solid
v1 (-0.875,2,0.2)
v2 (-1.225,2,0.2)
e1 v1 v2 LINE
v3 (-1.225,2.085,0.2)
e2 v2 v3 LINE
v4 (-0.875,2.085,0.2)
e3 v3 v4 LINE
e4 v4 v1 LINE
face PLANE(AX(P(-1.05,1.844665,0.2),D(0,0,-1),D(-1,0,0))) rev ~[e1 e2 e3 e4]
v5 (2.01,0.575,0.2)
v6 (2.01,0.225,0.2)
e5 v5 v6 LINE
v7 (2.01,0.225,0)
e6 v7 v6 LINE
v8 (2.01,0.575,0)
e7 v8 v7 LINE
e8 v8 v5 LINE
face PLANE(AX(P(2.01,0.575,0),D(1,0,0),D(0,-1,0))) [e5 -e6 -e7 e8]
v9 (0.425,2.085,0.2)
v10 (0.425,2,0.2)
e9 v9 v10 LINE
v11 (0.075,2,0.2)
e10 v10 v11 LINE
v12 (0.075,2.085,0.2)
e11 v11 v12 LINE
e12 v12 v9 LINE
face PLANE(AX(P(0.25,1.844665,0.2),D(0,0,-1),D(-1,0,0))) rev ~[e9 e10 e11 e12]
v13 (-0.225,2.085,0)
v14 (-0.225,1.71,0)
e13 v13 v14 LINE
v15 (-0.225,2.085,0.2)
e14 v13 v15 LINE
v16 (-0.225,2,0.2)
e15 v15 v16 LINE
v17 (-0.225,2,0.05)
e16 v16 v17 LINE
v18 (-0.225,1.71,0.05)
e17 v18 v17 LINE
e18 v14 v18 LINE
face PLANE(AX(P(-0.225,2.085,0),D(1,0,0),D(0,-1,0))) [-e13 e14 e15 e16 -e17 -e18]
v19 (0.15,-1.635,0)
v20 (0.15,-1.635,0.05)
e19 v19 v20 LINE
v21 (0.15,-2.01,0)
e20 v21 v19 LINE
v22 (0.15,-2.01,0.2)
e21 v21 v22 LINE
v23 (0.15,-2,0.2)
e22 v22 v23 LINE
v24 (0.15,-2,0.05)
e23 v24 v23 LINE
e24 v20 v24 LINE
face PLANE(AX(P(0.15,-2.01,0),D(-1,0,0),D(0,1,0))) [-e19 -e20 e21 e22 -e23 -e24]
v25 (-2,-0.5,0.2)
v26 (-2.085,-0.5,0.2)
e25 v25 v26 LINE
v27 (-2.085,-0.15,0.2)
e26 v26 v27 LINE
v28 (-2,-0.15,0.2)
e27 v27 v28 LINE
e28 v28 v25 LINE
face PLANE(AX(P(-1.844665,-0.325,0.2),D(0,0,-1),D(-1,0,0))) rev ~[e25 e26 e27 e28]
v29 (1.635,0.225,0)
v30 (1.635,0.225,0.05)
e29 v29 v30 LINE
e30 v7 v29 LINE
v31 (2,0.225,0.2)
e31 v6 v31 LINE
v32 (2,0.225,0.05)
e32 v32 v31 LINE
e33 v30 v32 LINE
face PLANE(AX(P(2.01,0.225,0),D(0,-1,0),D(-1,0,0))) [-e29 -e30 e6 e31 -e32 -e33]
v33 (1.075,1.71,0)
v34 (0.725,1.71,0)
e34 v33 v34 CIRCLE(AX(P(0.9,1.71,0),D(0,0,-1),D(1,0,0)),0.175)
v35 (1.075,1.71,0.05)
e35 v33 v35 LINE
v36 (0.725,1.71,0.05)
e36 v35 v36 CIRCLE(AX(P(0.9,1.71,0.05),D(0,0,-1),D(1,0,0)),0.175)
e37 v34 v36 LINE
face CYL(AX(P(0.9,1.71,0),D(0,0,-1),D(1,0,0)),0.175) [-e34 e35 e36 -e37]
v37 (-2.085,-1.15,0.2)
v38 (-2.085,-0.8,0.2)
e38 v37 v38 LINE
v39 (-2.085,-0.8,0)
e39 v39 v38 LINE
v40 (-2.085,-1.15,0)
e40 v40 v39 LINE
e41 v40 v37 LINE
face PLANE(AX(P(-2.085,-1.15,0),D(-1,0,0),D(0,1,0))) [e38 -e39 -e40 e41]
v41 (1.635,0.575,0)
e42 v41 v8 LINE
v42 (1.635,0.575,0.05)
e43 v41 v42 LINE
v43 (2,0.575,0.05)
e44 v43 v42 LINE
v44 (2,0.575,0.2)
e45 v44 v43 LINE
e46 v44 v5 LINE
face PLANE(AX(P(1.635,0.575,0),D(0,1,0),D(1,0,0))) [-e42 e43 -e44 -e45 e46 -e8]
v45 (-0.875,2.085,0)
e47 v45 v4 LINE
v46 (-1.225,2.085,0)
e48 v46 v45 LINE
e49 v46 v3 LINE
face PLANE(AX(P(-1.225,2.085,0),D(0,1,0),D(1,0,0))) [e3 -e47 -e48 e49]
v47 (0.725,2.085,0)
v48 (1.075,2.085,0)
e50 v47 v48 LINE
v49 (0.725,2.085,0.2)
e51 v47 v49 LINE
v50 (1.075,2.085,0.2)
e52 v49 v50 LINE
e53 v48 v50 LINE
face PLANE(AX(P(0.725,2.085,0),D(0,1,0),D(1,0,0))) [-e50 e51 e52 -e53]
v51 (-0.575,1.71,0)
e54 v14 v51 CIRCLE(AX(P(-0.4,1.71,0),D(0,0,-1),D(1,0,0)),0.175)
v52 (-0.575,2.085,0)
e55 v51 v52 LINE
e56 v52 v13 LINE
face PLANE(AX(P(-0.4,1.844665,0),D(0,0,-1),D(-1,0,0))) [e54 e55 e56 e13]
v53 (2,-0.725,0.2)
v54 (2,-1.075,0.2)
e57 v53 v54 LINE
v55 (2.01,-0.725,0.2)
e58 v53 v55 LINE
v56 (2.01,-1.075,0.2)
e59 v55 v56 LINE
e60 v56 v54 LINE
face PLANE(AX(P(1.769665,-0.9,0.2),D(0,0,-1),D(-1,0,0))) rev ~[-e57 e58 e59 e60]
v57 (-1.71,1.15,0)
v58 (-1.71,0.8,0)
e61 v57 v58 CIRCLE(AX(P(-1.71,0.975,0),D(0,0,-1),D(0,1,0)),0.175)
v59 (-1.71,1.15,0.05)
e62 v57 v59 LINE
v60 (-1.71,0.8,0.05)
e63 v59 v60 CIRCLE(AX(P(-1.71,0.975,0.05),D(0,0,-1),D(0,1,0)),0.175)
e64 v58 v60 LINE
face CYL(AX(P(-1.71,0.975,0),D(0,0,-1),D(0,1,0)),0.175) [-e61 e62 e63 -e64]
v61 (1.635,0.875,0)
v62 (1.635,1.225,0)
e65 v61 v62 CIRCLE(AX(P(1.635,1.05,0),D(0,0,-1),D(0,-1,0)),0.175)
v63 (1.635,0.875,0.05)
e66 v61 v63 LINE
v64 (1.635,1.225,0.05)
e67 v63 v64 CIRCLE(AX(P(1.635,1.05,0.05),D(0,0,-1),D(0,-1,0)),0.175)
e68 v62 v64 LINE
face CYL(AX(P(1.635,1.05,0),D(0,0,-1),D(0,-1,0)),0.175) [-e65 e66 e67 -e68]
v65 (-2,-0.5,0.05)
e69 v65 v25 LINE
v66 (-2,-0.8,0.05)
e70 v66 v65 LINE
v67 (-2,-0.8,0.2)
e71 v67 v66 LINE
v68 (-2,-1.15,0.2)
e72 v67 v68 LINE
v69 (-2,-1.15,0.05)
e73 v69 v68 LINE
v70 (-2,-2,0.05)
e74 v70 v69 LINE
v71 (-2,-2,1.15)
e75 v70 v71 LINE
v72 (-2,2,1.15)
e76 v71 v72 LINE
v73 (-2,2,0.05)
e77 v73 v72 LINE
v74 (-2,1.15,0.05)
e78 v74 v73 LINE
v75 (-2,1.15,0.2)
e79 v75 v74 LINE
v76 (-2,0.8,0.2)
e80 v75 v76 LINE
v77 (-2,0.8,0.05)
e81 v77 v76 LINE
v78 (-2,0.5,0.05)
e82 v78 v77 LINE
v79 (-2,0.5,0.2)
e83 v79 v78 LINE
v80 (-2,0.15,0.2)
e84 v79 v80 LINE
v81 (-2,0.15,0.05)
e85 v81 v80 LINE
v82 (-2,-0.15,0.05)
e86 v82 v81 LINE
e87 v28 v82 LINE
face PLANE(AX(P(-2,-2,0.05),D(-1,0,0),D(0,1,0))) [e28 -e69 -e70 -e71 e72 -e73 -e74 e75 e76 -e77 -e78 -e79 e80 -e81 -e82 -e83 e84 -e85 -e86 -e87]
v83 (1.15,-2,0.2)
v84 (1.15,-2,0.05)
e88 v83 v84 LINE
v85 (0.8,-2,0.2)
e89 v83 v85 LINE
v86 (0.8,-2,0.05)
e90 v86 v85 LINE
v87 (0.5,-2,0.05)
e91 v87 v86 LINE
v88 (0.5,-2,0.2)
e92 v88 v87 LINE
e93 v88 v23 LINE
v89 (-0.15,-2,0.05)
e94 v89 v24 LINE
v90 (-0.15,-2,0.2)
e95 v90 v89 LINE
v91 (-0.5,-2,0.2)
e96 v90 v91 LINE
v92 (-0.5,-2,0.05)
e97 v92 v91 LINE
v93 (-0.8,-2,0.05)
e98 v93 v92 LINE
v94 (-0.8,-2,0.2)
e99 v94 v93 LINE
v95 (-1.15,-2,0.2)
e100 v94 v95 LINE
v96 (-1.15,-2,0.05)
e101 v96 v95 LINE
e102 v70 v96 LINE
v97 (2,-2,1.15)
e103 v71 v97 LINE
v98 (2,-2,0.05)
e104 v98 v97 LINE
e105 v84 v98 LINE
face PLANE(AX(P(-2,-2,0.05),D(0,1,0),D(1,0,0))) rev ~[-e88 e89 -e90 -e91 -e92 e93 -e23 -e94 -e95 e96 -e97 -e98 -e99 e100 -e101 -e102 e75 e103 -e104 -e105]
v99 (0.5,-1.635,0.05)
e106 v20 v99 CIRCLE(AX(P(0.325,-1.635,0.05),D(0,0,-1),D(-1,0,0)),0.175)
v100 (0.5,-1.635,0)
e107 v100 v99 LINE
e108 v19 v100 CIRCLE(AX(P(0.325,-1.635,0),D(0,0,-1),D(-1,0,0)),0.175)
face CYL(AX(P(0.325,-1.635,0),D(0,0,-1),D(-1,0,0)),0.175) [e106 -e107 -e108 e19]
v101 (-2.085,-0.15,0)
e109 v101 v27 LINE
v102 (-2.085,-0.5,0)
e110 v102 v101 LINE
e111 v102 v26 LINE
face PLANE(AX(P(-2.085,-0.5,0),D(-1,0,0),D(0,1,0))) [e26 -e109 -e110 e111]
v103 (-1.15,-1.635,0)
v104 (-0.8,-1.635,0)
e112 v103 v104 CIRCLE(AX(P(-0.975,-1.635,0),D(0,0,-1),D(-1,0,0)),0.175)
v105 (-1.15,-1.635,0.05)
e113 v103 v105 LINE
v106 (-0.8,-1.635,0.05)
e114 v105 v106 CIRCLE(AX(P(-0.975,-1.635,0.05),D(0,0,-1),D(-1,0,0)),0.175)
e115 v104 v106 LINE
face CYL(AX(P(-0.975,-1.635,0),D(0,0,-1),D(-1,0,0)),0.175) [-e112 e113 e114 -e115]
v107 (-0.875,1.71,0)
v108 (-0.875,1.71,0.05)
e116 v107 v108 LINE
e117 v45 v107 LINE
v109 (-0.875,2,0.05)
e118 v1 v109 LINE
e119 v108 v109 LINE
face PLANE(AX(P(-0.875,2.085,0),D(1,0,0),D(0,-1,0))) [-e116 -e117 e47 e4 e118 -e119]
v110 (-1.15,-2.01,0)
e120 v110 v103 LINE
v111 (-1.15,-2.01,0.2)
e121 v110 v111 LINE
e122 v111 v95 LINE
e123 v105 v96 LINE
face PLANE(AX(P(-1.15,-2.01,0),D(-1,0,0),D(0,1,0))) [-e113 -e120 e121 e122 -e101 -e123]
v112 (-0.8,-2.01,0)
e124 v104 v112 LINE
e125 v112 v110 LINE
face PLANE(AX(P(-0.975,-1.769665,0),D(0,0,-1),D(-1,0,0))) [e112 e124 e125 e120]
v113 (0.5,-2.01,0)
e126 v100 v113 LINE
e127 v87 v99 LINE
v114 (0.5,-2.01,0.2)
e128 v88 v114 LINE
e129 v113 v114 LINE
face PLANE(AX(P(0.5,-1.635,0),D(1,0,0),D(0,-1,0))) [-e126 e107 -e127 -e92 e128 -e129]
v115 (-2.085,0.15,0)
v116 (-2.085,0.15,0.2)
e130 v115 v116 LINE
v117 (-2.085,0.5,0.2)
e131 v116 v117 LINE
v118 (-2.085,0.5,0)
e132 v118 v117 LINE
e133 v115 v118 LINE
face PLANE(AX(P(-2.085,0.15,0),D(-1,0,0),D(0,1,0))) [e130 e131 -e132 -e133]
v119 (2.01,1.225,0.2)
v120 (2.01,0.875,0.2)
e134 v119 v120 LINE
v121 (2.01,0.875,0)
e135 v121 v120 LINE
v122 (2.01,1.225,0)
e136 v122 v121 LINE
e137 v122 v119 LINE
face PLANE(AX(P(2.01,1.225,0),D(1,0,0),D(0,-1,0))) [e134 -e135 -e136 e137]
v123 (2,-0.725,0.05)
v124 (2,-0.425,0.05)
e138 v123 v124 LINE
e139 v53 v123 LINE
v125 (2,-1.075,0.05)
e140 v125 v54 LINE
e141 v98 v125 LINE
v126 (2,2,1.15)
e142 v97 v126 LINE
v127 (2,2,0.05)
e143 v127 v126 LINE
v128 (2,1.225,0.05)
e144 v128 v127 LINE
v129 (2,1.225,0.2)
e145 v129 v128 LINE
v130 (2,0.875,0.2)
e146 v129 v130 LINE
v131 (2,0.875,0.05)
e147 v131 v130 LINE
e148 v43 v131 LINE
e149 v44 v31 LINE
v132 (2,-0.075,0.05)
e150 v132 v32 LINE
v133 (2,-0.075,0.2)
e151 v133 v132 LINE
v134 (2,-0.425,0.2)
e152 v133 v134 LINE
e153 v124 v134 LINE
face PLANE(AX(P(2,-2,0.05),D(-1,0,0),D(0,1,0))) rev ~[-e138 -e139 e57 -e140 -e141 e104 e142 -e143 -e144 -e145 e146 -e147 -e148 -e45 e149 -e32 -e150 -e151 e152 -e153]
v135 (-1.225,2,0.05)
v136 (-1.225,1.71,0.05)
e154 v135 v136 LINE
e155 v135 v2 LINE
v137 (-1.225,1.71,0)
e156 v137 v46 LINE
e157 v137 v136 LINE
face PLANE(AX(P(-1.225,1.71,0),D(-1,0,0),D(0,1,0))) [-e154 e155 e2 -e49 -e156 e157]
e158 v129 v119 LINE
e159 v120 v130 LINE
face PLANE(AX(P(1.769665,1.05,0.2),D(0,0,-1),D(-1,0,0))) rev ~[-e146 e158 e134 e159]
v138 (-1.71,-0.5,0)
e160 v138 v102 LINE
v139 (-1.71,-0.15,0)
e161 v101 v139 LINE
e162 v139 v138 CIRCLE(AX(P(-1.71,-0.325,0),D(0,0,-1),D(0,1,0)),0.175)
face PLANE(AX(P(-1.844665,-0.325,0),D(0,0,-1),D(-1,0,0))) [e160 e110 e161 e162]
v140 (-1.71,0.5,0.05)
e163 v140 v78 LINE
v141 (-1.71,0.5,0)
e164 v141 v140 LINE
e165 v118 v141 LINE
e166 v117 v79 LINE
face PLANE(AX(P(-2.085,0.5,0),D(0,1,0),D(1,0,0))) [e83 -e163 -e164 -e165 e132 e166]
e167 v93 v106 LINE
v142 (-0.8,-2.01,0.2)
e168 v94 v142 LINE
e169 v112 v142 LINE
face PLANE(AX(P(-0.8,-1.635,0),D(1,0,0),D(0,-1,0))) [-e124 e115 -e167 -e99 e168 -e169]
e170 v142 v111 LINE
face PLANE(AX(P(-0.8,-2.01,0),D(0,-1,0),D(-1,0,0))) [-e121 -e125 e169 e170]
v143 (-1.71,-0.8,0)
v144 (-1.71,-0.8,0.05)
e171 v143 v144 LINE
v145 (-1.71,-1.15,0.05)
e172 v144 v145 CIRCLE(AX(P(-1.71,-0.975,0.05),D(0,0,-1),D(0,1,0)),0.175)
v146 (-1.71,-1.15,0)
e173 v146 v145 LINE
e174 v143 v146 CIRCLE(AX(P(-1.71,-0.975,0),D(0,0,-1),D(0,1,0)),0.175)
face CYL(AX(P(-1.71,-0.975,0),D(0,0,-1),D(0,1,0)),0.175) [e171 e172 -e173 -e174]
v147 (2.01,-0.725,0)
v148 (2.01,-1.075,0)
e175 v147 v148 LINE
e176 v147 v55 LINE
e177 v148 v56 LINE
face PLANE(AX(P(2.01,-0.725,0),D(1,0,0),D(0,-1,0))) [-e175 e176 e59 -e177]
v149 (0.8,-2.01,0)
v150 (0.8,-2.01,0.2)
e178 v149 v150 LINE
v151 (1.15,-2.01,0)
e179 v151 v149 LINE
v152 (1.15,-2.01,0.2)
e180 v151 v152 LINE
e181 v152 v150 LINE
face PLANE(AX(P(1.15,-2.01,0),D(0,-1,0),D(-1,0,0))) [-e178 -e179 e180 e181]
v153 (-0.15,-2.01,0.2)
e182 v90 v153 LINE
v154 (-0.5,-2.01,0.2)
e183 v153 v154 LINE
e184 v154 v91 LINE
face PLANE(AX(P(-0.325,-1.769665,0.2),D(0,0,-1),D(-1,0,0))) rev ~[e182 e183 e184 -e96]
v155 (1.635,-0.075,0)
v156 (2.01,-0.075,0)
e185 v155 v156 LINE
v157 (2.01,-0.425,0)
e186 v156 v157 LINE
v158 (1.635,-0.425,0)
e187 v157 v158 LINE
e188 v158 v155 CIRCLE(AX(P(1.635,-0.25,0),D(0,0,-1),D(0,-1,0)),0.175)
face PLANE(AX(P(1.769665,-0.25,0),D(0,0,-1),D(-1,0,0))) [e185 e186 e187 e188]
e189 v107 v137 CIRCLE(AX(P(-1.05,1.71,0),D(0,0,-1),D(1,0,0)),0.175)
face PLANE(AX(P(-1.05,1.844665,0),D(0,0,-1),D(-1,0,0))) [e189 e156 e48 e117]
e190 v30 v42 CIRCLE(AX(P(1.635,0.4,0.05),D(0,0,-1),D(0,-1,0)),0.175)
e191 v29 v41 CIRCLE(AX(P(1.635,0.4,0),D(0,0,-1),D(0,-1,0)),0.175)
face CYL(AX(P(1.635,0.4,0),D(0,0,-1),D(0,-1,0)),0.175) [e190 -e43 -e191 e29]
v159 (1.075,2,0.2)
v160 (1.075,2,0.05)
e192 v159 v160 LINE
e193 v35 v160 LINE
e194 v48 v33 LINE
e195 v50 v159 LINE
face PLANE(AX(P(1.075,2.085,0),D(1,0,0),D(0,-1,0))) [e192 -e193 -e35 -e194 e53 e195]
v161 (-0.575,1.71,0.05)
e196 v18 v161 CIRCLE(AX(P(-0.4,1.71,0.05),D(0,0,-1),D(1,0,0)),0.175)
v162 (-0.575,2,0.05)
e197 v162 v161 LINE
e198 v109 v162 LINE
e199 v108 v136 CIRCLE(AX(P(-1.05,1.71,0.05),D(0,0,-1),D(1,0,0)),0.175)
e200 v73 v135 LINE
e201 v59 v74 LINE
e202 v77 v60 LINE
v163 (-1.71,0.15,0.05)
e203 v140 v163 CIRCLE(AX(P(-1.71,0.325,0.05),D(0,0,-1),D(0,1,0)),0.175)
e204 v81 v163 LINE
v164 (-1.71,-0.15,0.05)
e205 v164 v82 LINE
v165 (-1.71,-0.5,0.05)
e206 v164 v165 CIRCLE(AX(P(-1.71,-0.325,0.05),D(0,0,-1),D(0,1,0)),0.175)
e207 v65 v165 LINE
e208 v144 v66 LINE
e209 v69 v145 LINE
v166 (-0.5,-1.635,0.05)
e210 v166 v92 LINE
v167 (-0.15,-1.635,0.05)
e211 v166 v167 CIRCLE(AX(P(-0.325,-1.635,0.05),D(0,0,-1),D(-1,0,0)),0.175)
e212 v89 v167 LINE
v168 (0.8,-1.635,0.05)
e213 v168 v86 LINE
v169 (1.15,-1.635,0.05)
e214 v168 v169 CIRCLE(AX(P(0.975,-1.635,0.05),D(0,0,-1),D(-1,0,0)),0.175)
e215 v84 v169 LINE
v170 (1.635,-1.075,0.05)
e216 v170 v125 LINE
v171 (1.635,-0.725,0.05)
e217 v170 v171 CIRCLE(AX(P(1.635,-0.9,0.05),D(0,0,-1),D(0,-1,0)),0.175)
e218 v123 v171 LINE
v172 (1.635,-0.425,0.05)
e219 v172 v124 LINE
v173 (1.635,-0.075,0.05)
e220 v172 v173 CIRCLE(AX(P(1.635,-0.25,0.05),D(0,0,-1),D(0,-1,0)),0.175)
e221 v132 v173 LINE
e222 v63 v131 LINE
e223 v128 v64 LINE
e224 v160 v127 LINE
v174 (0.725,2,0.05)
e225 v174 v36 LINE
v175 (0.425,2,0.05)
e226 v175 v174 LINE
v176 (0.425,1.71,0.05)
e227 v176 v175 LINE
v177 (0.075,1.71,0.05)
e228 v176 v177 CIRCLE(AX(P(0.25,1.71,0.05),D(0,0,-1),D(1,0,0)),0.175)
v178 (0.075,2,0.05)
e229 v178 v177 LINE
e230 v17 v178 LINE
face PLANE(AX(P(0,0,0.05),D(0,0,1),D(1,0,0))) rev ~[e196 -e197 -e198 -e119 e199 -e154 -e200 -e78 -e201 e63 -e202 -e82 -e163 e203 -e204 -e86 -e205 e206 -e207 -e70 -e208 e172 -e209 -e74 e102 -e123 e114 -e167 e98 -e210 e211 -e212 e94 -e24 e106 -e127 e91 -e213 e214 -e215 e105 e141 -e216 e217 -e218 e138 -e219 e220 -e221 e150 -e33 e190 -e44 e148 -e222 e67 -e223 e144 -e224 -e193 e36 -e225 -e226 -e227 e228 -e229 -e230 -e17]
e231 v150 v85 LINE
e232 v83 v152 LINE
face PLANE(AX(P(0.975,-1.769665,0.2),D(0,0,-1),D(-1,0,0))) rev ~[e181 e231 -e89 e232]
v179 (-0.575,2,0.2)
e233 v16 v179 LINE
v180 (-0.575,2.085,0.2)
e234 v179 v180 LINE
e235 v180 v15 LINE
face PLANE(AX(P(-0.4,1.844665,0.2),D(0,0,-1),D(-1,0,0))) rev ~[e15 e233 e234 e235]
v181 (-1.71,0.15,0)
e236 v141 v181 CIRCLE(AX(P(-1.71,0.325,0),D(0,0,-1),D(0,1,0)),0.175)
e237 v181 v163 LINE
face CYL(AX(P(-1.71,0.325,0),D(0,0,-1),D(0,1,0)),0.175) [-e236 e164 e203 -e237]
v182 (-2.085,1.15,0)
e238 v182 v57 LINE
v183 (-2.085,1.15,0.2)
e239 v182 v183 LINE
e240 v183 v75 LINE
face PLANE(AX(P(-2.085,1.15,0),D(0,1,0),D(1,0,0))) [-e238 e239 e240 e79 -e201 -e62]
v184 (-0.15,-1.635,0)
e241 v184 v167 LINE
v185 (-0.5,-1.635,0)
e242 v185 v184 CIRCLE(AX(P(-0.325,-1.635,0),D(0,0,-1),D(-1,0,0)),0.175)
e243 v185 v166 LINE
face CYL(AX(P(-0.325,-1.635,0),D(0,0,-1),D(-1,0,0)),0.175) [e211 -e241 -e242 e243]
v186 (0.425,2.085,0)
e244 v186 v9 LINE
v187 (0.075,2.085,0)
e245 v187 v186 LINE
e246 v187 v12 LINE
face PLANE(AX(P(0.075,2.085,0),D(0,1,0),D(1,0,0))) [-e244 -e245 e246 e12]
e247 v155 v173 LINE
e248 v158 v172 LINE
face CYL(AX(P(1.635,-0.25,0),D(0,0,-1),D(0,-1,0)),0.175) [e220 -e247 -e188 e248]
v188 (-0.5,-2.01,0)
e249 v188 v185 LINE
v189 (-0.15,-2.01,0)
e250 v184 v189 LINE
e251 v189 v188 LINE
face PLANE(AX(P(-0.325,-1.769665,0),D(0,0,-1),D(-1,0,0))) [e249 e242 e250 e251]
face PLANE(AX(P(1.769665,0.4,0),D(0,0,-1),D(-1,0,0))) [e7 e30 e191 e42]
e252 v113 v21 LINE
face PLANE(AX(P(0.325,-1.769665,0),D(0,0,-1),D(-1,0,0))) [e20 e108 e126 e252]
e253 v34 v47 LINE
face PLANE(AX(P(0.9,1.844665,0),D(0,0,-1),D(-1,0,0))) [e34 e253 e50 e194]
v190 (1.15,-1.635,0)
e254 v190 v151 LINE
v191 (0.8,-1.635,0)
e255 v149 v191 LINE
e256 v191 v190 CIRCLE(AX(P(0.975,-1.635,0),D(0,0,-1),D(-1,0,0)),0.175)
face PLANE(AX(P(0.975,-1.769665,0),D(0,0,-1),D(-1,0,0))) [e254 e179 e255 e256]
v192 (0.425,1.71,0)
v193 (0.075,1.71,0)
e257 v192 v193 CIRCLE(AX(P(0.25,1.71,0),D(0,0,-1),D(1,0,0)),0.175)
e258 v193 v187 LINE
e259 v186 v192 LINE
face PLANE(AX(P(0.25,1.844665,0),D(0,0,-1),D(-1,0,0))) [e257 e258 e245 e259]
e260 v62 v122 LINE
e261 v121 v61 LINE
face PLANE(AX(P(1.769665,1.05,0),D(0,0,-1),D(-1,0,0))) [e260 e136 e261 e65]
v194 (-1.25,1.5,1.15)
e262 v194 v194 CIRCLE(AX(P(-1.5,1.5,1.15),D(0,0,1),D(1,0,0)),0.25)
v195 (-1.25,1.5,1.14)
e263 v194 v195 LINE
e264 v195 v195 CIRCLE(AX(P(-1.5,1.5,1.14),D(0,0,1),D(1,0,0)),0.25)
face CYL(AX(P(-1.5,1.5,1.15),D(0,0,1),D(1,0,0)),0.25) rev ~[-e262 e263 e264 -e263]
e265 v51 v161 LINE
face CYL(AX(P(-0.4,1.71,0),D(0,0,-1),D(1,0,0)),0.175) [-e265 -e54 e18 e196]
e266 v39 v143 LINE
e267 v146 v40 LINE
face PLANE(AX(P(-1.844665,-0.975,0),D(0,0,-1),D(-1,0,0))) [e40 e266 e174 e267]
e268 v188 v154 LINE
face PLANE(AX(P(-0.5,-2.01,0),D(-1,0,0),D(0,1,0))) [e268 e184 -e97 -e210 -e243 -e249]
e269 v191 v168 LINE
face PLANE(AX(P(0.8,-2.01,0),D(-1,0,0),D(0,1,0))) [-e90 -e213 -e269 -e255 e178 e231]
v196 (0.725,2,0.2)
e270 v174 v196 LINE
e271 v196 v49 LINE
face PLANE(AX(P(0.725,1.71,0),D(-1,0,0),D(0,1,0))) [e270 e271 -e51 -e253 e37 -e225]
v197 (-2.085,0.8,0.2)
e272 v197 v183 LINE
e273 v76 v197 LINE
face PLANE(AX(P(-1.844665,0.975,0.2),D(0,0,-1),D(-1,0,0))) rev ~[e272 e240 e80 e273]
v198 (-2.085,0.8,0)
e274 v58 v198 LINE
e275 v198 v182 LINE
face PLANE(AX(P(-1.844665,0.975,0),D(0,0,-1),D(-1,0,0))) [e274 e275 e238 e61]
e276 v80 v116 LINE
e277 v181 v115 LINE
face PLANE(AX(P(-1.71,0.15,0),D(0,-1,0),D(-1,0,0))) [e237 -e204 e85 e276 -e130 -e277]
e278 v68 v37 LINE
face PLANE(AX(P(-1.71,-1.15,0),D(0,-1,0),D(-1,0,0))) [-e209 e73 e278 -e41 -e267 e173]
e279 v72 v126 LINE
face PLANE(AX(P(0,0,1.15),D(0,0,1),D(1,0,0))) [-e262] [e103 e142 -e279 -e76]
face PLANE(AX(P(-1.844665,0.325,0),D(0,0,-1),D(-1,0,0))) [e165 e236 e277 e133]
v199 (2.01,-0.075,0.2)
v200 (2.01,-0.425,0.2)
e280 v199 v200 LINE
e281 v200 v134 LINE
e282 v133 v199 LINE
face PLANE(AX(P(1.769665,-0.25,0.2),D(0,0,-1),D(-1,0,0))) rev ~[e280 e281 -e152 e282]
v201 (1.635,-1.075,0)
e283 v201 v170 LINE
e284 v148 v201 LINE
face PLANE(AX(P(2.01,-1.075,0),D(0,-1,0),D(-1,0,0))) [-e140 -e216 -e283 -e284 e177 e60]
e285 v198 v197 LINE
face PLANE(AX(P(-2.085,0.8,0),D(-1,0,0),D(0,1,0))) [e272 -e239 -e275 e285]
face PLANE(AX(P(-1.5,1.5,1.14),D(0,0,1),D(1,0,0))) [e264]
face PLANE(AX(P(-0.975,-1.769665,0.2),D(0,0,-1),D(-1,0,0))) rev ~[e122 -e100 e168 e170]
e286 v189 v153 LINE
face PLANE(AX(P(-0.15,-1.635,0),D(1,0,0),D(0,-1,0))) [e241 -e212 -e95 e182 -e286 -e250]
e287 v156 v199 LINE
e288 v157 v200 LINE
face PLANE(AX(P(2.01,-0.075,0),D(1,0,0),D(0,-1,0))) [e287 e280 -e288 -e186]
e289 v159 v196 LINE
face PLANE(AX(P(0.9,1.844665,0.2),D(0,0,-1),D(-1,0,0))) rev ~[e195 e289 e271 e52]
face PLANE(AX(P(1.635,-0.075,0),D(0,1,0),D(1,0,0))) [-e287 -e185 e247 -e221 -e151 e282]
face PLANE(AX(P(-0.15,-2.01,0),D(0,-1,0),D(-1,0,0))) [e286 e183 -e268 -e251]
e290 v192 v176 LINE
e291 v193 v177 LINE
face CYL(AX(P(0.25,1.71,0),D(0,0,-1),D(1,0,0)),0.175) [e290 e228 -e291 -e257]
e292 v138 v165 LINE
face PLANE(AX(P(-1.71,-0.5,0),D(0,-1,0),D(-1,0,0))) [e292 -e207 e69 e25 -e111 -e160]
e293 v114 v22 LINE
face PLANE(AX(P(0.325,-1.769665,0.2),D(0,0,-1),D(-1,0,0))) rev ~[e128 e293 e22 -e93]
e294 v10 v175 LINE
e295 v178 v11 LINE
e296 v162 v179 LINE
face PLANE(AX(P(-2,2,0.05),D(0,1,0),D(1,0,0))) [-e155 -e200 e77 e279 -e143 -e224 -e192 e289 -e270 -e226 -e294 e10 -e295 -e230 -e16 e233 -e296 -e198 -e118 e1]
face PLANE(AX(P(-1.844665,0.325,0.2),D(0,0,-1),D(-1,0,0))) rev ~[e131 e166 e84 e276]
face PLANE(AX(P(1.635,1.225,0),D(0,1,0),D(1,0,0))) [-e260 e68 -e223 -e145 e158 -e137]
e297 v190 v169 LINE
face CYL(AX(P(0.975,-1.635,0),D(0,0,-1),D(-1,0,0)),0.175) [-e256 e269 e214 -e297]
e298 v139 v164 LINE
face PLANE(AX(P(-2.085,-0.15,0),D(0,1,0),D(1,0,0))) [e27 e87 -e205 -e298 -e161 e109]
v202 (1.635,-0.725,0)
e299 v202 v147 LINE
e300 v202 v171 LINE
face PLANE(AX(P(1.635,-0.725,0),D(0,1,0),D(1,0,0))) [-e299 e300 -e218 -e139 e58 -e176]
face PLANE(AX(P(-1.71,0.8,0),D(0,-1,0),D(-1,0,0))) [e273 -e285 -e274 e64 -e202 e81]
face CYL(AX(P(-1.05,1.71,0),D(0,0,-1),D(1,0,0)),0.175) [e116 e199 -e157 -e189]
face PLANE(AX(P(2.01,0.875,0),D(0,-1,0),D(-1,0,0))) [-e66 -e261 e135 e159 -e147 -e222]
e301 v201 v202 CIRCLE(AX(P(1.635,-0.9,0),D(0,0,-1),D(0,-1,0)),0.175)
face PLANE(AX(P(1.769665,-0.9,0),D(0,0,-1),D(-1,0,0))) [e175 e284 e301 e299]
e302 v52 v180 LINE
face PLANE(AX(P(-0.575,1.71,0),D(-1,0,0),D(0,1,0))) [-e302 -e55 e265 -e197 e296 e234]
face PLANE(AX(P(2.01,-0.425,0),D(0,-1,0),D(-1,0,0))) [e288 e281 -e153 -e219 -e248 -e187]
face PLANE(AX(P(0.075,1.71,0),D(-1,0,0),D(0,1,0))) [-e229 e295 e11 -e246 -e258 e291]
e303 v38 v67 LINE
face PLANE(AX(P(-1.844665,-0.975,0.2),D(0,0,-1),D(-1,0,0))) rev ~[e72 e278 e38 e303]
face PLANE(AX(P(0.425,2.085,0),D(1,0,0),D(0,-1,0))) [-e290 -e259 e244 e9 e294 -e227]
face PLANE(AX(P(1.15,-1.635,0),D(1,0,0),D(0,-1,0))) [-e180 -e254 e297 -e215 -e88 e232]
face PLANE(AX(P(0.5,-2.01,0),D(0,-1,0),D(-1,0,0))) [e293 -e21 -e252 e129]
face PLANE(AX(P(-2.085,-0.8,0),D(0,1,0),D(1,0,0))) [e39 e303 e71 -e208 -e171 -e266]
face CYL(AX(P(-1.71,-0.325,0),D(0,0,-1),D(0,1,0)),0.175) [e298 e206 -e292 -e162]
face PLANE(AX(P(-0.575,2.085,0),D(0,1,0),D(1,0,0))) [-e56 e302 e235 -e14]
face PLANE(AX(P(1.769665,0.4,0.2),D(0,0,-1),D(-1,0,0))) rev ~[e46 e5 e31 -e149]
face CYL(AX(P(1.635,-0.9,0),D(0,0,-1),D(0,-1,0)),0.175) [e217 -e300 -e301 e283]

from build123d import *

# Parameters (mm, degrees)
ESBO_O1_W                = 4
ESBO_O1_H                = 4
RESSALTO_EXTRUS_O1_DEPTH = 1.1
RESSALTO_EXTRUS_O2_DEPTH = 0.2
ESBO_O3_R                = 0.25
CORTE_EXTRUS_O1_DEPTH    = 0.01


with BuildPart() as part:
    # Esboço1 → Ressalto-extrusão1 (new body)
    with BuildSketch(Plane.XY.offset(0.05)):
        Rectangle(ESBO_O1_W, ESBO_O1_H)
    extrude(amount=RESSALTO_EXTRUS_O1_DEPTH)

    # Esboço2 → Ressalto-extrusão2 (add)
    with BuildSketch(Plane.XY):
        with BuildLine():
            Line((-0.8, -2.01), (-1.15, -2.01))
            Line((-1.15, -2.01), (-1.15, -1.635))
            ThreePointArc((-1.15, -1.635), (-0.975, -1.46), (-0.8, -1.635))
            Line((-0.8, -1.635), (-0.8, -2.01))
        make_face()
        with BuildLine():
            Line((-0.5, -2.01), (-0.5, -1.635))
            ThreePointArc((-0.5, -1.635), (-0.325, -1.46), (-0.15, -1.635))
            Line((-0.15, -1.635), (-0.15, -2.01))
            Line((-0.15, -2.01), (-0.5, -2.01))
        make_face()
        with BuildLine():
            Line((0.15, -2.01), (0.15, -1.635))
            ThreePointArc((0.15, -1.635), (0.325, -1.46), (0.5, -1.635))
            Line((0.5, -1.635), (0.5, -2.01))
            Line((0.5, -2.01), (0.15, -2.01))
        make_face()
        with BuildLine():
            Line((0.8, -2.01), (0.8, -1.635))
            ThreePointArc((0.8, -1.635), (0.975, -1.46), (1.15, -1.635))
            Line((1.15, -1.635), (1.15, -2.01))
            Line((1.15, -2.01), (0.8, -2.01))
        make_face()
        with BuildLine():
            Line((-2.085, 0.8), (-2.085, 1.15))
            Line((-2.085, 1.15), (-1.71, 1.15))
            ThreePointArc((-1.71, 1.15), (-1.535, 0.975), (-1.71, 0.8))
            Line((-1.71, 0.8), (-2.085, 0.8))
        make_face()
        with BuildLine():
            Line((-2.085, 0.5), (-1.71, 0.5))
            ThreePointArc((-1.71, 0.5), (-1.535, 0.325), (-1.71, 0.15))
            Line((-1.71, 0.15), (-2.085, 0.15))
            Line((-2.085, 0.15), (-2.085, 0.5))
        make_face()
        with BuildLine():
            Line((-2.085, -0.15), (-1.71, -0.15))
            ThreePointArc((-1.71, -0.15), (-1.535, -0.325), (-1.71, -0.5))
            Line((-1.71, -0.5), (-2.085, -0.5))
            Line((-2.085, -0.5), (-2.085, -0.15))
        make_face()
        with BuildLine():
            Line((-2.085, -0.8), (-1.71, -0.8))
            ThreePointArc((-1.71, -0.8), (-1.535, -0.975), (-1.71, -1.15))
            Line((-1.71, -1.15), (-2.085, -1.15))
            Line((-2.085, -1.15), (-2.085, -0.8))
        make_face()
        with BuildLine():
            Line((0.725, 2.085), (1.075, 2.085))
            Line((1.075, 2.085), (1.075, 1.71))
            ThreePointArc((1.075, 1.71), (0.9, 1.535), (0.725, 1.71))
            Line((0.725, 1.71), (0.725, 2.085))
        make_face()
        with BuildLine():
            Line((0.425, 2.085), (0.425, 1.71))
            ThreePointArc((0.425, 1.71), (0.25, 1.535), (0.075, 1.71))
            Line((0.075, 1.71), (0.075, 2.085))
            Line((0.075, 2.085), (0.425, 2.085))
        make_face()
        with BuildLine():
            Line((-0.225, 2.085), (-0.225, 1.71))
            ThreePointArc((-0.225, 1.71), (-0.4, 1.535), (-0.575, 1.71))
            Line((-0.575, 1.71), (-0.575, 2.085))
            Line((-0.575, 2.085), (-0.225, 2.085))
        make_face()
        with BuildLine():
            Line((-0.875, 2.085), (-0.875, 1.71))
            ThreePointArc((-0.875, 1.71), (-1.05, 1.535), (-1.225, 1.71))
            Line((-1.225, 1.71), (-1.225, 2.085))
            Line((-1.225, 2.085), (-0.875, 2.085))
        make_face()
        with BuildLine():
            Line((2.01, -0.725), (2.01, -1.075))
            Line((2.01, -1.075), (1.635, -1.075))
            ThreePointArc((1.635, -1.075), (1.46, -0.9), (1.635, -0.725))
            Line((1.635, -0.725), (2.01, -0.725))
        make_face()
        with BuildLine():
            Line((2.01, -0.425), (1.635, -0.425))
            ThreePointArc((1.635, -0.425), (1.46, -0.25), (1.635, -0.075))
            Line((1.635, -0.075), (2.01, -0.075))
            Line((2.01, -0.075), (2.01, -0.425))
        make_face()
        with BuildLine():
            Line((2.01, 0.225), (1.635, 0.225))
            ThreePointArc((1.635, 0.225), (1.46, 0.4), (1.635, 0.575))
            Line((1.635, 0.575), (2.01, 0.575))
            Line((2.01, 0.575), (2.01, 0.225))
        make_face()
        with BuildLine():
            Line((2.01, 0.875), (1.635, 0.875))
            ThreePointArc((1.635, 0.875), (1.46, 1.05), (1.635, 1.225))
            Line((1.635, 1.225), (2.01, 1.225))
            Line((2.01, 1.225), (2.01, 0.875))
        make_face()
    extrude(amount=RESSALTO_EXTRUS_O2_DEPTH)

    # Esboço3 → Corte-extrusão1 (cut)
    with BuildSketch(Plane.XY.offset(1.15)):
        with Locations((-1.5, 1.5)):
            Circle(ESBO_O3_R)
    extrude(amount=-CORTE_EXTRUS_O1_DEPTH, mode=Mode.SUBTRACT)


solid = part.part
